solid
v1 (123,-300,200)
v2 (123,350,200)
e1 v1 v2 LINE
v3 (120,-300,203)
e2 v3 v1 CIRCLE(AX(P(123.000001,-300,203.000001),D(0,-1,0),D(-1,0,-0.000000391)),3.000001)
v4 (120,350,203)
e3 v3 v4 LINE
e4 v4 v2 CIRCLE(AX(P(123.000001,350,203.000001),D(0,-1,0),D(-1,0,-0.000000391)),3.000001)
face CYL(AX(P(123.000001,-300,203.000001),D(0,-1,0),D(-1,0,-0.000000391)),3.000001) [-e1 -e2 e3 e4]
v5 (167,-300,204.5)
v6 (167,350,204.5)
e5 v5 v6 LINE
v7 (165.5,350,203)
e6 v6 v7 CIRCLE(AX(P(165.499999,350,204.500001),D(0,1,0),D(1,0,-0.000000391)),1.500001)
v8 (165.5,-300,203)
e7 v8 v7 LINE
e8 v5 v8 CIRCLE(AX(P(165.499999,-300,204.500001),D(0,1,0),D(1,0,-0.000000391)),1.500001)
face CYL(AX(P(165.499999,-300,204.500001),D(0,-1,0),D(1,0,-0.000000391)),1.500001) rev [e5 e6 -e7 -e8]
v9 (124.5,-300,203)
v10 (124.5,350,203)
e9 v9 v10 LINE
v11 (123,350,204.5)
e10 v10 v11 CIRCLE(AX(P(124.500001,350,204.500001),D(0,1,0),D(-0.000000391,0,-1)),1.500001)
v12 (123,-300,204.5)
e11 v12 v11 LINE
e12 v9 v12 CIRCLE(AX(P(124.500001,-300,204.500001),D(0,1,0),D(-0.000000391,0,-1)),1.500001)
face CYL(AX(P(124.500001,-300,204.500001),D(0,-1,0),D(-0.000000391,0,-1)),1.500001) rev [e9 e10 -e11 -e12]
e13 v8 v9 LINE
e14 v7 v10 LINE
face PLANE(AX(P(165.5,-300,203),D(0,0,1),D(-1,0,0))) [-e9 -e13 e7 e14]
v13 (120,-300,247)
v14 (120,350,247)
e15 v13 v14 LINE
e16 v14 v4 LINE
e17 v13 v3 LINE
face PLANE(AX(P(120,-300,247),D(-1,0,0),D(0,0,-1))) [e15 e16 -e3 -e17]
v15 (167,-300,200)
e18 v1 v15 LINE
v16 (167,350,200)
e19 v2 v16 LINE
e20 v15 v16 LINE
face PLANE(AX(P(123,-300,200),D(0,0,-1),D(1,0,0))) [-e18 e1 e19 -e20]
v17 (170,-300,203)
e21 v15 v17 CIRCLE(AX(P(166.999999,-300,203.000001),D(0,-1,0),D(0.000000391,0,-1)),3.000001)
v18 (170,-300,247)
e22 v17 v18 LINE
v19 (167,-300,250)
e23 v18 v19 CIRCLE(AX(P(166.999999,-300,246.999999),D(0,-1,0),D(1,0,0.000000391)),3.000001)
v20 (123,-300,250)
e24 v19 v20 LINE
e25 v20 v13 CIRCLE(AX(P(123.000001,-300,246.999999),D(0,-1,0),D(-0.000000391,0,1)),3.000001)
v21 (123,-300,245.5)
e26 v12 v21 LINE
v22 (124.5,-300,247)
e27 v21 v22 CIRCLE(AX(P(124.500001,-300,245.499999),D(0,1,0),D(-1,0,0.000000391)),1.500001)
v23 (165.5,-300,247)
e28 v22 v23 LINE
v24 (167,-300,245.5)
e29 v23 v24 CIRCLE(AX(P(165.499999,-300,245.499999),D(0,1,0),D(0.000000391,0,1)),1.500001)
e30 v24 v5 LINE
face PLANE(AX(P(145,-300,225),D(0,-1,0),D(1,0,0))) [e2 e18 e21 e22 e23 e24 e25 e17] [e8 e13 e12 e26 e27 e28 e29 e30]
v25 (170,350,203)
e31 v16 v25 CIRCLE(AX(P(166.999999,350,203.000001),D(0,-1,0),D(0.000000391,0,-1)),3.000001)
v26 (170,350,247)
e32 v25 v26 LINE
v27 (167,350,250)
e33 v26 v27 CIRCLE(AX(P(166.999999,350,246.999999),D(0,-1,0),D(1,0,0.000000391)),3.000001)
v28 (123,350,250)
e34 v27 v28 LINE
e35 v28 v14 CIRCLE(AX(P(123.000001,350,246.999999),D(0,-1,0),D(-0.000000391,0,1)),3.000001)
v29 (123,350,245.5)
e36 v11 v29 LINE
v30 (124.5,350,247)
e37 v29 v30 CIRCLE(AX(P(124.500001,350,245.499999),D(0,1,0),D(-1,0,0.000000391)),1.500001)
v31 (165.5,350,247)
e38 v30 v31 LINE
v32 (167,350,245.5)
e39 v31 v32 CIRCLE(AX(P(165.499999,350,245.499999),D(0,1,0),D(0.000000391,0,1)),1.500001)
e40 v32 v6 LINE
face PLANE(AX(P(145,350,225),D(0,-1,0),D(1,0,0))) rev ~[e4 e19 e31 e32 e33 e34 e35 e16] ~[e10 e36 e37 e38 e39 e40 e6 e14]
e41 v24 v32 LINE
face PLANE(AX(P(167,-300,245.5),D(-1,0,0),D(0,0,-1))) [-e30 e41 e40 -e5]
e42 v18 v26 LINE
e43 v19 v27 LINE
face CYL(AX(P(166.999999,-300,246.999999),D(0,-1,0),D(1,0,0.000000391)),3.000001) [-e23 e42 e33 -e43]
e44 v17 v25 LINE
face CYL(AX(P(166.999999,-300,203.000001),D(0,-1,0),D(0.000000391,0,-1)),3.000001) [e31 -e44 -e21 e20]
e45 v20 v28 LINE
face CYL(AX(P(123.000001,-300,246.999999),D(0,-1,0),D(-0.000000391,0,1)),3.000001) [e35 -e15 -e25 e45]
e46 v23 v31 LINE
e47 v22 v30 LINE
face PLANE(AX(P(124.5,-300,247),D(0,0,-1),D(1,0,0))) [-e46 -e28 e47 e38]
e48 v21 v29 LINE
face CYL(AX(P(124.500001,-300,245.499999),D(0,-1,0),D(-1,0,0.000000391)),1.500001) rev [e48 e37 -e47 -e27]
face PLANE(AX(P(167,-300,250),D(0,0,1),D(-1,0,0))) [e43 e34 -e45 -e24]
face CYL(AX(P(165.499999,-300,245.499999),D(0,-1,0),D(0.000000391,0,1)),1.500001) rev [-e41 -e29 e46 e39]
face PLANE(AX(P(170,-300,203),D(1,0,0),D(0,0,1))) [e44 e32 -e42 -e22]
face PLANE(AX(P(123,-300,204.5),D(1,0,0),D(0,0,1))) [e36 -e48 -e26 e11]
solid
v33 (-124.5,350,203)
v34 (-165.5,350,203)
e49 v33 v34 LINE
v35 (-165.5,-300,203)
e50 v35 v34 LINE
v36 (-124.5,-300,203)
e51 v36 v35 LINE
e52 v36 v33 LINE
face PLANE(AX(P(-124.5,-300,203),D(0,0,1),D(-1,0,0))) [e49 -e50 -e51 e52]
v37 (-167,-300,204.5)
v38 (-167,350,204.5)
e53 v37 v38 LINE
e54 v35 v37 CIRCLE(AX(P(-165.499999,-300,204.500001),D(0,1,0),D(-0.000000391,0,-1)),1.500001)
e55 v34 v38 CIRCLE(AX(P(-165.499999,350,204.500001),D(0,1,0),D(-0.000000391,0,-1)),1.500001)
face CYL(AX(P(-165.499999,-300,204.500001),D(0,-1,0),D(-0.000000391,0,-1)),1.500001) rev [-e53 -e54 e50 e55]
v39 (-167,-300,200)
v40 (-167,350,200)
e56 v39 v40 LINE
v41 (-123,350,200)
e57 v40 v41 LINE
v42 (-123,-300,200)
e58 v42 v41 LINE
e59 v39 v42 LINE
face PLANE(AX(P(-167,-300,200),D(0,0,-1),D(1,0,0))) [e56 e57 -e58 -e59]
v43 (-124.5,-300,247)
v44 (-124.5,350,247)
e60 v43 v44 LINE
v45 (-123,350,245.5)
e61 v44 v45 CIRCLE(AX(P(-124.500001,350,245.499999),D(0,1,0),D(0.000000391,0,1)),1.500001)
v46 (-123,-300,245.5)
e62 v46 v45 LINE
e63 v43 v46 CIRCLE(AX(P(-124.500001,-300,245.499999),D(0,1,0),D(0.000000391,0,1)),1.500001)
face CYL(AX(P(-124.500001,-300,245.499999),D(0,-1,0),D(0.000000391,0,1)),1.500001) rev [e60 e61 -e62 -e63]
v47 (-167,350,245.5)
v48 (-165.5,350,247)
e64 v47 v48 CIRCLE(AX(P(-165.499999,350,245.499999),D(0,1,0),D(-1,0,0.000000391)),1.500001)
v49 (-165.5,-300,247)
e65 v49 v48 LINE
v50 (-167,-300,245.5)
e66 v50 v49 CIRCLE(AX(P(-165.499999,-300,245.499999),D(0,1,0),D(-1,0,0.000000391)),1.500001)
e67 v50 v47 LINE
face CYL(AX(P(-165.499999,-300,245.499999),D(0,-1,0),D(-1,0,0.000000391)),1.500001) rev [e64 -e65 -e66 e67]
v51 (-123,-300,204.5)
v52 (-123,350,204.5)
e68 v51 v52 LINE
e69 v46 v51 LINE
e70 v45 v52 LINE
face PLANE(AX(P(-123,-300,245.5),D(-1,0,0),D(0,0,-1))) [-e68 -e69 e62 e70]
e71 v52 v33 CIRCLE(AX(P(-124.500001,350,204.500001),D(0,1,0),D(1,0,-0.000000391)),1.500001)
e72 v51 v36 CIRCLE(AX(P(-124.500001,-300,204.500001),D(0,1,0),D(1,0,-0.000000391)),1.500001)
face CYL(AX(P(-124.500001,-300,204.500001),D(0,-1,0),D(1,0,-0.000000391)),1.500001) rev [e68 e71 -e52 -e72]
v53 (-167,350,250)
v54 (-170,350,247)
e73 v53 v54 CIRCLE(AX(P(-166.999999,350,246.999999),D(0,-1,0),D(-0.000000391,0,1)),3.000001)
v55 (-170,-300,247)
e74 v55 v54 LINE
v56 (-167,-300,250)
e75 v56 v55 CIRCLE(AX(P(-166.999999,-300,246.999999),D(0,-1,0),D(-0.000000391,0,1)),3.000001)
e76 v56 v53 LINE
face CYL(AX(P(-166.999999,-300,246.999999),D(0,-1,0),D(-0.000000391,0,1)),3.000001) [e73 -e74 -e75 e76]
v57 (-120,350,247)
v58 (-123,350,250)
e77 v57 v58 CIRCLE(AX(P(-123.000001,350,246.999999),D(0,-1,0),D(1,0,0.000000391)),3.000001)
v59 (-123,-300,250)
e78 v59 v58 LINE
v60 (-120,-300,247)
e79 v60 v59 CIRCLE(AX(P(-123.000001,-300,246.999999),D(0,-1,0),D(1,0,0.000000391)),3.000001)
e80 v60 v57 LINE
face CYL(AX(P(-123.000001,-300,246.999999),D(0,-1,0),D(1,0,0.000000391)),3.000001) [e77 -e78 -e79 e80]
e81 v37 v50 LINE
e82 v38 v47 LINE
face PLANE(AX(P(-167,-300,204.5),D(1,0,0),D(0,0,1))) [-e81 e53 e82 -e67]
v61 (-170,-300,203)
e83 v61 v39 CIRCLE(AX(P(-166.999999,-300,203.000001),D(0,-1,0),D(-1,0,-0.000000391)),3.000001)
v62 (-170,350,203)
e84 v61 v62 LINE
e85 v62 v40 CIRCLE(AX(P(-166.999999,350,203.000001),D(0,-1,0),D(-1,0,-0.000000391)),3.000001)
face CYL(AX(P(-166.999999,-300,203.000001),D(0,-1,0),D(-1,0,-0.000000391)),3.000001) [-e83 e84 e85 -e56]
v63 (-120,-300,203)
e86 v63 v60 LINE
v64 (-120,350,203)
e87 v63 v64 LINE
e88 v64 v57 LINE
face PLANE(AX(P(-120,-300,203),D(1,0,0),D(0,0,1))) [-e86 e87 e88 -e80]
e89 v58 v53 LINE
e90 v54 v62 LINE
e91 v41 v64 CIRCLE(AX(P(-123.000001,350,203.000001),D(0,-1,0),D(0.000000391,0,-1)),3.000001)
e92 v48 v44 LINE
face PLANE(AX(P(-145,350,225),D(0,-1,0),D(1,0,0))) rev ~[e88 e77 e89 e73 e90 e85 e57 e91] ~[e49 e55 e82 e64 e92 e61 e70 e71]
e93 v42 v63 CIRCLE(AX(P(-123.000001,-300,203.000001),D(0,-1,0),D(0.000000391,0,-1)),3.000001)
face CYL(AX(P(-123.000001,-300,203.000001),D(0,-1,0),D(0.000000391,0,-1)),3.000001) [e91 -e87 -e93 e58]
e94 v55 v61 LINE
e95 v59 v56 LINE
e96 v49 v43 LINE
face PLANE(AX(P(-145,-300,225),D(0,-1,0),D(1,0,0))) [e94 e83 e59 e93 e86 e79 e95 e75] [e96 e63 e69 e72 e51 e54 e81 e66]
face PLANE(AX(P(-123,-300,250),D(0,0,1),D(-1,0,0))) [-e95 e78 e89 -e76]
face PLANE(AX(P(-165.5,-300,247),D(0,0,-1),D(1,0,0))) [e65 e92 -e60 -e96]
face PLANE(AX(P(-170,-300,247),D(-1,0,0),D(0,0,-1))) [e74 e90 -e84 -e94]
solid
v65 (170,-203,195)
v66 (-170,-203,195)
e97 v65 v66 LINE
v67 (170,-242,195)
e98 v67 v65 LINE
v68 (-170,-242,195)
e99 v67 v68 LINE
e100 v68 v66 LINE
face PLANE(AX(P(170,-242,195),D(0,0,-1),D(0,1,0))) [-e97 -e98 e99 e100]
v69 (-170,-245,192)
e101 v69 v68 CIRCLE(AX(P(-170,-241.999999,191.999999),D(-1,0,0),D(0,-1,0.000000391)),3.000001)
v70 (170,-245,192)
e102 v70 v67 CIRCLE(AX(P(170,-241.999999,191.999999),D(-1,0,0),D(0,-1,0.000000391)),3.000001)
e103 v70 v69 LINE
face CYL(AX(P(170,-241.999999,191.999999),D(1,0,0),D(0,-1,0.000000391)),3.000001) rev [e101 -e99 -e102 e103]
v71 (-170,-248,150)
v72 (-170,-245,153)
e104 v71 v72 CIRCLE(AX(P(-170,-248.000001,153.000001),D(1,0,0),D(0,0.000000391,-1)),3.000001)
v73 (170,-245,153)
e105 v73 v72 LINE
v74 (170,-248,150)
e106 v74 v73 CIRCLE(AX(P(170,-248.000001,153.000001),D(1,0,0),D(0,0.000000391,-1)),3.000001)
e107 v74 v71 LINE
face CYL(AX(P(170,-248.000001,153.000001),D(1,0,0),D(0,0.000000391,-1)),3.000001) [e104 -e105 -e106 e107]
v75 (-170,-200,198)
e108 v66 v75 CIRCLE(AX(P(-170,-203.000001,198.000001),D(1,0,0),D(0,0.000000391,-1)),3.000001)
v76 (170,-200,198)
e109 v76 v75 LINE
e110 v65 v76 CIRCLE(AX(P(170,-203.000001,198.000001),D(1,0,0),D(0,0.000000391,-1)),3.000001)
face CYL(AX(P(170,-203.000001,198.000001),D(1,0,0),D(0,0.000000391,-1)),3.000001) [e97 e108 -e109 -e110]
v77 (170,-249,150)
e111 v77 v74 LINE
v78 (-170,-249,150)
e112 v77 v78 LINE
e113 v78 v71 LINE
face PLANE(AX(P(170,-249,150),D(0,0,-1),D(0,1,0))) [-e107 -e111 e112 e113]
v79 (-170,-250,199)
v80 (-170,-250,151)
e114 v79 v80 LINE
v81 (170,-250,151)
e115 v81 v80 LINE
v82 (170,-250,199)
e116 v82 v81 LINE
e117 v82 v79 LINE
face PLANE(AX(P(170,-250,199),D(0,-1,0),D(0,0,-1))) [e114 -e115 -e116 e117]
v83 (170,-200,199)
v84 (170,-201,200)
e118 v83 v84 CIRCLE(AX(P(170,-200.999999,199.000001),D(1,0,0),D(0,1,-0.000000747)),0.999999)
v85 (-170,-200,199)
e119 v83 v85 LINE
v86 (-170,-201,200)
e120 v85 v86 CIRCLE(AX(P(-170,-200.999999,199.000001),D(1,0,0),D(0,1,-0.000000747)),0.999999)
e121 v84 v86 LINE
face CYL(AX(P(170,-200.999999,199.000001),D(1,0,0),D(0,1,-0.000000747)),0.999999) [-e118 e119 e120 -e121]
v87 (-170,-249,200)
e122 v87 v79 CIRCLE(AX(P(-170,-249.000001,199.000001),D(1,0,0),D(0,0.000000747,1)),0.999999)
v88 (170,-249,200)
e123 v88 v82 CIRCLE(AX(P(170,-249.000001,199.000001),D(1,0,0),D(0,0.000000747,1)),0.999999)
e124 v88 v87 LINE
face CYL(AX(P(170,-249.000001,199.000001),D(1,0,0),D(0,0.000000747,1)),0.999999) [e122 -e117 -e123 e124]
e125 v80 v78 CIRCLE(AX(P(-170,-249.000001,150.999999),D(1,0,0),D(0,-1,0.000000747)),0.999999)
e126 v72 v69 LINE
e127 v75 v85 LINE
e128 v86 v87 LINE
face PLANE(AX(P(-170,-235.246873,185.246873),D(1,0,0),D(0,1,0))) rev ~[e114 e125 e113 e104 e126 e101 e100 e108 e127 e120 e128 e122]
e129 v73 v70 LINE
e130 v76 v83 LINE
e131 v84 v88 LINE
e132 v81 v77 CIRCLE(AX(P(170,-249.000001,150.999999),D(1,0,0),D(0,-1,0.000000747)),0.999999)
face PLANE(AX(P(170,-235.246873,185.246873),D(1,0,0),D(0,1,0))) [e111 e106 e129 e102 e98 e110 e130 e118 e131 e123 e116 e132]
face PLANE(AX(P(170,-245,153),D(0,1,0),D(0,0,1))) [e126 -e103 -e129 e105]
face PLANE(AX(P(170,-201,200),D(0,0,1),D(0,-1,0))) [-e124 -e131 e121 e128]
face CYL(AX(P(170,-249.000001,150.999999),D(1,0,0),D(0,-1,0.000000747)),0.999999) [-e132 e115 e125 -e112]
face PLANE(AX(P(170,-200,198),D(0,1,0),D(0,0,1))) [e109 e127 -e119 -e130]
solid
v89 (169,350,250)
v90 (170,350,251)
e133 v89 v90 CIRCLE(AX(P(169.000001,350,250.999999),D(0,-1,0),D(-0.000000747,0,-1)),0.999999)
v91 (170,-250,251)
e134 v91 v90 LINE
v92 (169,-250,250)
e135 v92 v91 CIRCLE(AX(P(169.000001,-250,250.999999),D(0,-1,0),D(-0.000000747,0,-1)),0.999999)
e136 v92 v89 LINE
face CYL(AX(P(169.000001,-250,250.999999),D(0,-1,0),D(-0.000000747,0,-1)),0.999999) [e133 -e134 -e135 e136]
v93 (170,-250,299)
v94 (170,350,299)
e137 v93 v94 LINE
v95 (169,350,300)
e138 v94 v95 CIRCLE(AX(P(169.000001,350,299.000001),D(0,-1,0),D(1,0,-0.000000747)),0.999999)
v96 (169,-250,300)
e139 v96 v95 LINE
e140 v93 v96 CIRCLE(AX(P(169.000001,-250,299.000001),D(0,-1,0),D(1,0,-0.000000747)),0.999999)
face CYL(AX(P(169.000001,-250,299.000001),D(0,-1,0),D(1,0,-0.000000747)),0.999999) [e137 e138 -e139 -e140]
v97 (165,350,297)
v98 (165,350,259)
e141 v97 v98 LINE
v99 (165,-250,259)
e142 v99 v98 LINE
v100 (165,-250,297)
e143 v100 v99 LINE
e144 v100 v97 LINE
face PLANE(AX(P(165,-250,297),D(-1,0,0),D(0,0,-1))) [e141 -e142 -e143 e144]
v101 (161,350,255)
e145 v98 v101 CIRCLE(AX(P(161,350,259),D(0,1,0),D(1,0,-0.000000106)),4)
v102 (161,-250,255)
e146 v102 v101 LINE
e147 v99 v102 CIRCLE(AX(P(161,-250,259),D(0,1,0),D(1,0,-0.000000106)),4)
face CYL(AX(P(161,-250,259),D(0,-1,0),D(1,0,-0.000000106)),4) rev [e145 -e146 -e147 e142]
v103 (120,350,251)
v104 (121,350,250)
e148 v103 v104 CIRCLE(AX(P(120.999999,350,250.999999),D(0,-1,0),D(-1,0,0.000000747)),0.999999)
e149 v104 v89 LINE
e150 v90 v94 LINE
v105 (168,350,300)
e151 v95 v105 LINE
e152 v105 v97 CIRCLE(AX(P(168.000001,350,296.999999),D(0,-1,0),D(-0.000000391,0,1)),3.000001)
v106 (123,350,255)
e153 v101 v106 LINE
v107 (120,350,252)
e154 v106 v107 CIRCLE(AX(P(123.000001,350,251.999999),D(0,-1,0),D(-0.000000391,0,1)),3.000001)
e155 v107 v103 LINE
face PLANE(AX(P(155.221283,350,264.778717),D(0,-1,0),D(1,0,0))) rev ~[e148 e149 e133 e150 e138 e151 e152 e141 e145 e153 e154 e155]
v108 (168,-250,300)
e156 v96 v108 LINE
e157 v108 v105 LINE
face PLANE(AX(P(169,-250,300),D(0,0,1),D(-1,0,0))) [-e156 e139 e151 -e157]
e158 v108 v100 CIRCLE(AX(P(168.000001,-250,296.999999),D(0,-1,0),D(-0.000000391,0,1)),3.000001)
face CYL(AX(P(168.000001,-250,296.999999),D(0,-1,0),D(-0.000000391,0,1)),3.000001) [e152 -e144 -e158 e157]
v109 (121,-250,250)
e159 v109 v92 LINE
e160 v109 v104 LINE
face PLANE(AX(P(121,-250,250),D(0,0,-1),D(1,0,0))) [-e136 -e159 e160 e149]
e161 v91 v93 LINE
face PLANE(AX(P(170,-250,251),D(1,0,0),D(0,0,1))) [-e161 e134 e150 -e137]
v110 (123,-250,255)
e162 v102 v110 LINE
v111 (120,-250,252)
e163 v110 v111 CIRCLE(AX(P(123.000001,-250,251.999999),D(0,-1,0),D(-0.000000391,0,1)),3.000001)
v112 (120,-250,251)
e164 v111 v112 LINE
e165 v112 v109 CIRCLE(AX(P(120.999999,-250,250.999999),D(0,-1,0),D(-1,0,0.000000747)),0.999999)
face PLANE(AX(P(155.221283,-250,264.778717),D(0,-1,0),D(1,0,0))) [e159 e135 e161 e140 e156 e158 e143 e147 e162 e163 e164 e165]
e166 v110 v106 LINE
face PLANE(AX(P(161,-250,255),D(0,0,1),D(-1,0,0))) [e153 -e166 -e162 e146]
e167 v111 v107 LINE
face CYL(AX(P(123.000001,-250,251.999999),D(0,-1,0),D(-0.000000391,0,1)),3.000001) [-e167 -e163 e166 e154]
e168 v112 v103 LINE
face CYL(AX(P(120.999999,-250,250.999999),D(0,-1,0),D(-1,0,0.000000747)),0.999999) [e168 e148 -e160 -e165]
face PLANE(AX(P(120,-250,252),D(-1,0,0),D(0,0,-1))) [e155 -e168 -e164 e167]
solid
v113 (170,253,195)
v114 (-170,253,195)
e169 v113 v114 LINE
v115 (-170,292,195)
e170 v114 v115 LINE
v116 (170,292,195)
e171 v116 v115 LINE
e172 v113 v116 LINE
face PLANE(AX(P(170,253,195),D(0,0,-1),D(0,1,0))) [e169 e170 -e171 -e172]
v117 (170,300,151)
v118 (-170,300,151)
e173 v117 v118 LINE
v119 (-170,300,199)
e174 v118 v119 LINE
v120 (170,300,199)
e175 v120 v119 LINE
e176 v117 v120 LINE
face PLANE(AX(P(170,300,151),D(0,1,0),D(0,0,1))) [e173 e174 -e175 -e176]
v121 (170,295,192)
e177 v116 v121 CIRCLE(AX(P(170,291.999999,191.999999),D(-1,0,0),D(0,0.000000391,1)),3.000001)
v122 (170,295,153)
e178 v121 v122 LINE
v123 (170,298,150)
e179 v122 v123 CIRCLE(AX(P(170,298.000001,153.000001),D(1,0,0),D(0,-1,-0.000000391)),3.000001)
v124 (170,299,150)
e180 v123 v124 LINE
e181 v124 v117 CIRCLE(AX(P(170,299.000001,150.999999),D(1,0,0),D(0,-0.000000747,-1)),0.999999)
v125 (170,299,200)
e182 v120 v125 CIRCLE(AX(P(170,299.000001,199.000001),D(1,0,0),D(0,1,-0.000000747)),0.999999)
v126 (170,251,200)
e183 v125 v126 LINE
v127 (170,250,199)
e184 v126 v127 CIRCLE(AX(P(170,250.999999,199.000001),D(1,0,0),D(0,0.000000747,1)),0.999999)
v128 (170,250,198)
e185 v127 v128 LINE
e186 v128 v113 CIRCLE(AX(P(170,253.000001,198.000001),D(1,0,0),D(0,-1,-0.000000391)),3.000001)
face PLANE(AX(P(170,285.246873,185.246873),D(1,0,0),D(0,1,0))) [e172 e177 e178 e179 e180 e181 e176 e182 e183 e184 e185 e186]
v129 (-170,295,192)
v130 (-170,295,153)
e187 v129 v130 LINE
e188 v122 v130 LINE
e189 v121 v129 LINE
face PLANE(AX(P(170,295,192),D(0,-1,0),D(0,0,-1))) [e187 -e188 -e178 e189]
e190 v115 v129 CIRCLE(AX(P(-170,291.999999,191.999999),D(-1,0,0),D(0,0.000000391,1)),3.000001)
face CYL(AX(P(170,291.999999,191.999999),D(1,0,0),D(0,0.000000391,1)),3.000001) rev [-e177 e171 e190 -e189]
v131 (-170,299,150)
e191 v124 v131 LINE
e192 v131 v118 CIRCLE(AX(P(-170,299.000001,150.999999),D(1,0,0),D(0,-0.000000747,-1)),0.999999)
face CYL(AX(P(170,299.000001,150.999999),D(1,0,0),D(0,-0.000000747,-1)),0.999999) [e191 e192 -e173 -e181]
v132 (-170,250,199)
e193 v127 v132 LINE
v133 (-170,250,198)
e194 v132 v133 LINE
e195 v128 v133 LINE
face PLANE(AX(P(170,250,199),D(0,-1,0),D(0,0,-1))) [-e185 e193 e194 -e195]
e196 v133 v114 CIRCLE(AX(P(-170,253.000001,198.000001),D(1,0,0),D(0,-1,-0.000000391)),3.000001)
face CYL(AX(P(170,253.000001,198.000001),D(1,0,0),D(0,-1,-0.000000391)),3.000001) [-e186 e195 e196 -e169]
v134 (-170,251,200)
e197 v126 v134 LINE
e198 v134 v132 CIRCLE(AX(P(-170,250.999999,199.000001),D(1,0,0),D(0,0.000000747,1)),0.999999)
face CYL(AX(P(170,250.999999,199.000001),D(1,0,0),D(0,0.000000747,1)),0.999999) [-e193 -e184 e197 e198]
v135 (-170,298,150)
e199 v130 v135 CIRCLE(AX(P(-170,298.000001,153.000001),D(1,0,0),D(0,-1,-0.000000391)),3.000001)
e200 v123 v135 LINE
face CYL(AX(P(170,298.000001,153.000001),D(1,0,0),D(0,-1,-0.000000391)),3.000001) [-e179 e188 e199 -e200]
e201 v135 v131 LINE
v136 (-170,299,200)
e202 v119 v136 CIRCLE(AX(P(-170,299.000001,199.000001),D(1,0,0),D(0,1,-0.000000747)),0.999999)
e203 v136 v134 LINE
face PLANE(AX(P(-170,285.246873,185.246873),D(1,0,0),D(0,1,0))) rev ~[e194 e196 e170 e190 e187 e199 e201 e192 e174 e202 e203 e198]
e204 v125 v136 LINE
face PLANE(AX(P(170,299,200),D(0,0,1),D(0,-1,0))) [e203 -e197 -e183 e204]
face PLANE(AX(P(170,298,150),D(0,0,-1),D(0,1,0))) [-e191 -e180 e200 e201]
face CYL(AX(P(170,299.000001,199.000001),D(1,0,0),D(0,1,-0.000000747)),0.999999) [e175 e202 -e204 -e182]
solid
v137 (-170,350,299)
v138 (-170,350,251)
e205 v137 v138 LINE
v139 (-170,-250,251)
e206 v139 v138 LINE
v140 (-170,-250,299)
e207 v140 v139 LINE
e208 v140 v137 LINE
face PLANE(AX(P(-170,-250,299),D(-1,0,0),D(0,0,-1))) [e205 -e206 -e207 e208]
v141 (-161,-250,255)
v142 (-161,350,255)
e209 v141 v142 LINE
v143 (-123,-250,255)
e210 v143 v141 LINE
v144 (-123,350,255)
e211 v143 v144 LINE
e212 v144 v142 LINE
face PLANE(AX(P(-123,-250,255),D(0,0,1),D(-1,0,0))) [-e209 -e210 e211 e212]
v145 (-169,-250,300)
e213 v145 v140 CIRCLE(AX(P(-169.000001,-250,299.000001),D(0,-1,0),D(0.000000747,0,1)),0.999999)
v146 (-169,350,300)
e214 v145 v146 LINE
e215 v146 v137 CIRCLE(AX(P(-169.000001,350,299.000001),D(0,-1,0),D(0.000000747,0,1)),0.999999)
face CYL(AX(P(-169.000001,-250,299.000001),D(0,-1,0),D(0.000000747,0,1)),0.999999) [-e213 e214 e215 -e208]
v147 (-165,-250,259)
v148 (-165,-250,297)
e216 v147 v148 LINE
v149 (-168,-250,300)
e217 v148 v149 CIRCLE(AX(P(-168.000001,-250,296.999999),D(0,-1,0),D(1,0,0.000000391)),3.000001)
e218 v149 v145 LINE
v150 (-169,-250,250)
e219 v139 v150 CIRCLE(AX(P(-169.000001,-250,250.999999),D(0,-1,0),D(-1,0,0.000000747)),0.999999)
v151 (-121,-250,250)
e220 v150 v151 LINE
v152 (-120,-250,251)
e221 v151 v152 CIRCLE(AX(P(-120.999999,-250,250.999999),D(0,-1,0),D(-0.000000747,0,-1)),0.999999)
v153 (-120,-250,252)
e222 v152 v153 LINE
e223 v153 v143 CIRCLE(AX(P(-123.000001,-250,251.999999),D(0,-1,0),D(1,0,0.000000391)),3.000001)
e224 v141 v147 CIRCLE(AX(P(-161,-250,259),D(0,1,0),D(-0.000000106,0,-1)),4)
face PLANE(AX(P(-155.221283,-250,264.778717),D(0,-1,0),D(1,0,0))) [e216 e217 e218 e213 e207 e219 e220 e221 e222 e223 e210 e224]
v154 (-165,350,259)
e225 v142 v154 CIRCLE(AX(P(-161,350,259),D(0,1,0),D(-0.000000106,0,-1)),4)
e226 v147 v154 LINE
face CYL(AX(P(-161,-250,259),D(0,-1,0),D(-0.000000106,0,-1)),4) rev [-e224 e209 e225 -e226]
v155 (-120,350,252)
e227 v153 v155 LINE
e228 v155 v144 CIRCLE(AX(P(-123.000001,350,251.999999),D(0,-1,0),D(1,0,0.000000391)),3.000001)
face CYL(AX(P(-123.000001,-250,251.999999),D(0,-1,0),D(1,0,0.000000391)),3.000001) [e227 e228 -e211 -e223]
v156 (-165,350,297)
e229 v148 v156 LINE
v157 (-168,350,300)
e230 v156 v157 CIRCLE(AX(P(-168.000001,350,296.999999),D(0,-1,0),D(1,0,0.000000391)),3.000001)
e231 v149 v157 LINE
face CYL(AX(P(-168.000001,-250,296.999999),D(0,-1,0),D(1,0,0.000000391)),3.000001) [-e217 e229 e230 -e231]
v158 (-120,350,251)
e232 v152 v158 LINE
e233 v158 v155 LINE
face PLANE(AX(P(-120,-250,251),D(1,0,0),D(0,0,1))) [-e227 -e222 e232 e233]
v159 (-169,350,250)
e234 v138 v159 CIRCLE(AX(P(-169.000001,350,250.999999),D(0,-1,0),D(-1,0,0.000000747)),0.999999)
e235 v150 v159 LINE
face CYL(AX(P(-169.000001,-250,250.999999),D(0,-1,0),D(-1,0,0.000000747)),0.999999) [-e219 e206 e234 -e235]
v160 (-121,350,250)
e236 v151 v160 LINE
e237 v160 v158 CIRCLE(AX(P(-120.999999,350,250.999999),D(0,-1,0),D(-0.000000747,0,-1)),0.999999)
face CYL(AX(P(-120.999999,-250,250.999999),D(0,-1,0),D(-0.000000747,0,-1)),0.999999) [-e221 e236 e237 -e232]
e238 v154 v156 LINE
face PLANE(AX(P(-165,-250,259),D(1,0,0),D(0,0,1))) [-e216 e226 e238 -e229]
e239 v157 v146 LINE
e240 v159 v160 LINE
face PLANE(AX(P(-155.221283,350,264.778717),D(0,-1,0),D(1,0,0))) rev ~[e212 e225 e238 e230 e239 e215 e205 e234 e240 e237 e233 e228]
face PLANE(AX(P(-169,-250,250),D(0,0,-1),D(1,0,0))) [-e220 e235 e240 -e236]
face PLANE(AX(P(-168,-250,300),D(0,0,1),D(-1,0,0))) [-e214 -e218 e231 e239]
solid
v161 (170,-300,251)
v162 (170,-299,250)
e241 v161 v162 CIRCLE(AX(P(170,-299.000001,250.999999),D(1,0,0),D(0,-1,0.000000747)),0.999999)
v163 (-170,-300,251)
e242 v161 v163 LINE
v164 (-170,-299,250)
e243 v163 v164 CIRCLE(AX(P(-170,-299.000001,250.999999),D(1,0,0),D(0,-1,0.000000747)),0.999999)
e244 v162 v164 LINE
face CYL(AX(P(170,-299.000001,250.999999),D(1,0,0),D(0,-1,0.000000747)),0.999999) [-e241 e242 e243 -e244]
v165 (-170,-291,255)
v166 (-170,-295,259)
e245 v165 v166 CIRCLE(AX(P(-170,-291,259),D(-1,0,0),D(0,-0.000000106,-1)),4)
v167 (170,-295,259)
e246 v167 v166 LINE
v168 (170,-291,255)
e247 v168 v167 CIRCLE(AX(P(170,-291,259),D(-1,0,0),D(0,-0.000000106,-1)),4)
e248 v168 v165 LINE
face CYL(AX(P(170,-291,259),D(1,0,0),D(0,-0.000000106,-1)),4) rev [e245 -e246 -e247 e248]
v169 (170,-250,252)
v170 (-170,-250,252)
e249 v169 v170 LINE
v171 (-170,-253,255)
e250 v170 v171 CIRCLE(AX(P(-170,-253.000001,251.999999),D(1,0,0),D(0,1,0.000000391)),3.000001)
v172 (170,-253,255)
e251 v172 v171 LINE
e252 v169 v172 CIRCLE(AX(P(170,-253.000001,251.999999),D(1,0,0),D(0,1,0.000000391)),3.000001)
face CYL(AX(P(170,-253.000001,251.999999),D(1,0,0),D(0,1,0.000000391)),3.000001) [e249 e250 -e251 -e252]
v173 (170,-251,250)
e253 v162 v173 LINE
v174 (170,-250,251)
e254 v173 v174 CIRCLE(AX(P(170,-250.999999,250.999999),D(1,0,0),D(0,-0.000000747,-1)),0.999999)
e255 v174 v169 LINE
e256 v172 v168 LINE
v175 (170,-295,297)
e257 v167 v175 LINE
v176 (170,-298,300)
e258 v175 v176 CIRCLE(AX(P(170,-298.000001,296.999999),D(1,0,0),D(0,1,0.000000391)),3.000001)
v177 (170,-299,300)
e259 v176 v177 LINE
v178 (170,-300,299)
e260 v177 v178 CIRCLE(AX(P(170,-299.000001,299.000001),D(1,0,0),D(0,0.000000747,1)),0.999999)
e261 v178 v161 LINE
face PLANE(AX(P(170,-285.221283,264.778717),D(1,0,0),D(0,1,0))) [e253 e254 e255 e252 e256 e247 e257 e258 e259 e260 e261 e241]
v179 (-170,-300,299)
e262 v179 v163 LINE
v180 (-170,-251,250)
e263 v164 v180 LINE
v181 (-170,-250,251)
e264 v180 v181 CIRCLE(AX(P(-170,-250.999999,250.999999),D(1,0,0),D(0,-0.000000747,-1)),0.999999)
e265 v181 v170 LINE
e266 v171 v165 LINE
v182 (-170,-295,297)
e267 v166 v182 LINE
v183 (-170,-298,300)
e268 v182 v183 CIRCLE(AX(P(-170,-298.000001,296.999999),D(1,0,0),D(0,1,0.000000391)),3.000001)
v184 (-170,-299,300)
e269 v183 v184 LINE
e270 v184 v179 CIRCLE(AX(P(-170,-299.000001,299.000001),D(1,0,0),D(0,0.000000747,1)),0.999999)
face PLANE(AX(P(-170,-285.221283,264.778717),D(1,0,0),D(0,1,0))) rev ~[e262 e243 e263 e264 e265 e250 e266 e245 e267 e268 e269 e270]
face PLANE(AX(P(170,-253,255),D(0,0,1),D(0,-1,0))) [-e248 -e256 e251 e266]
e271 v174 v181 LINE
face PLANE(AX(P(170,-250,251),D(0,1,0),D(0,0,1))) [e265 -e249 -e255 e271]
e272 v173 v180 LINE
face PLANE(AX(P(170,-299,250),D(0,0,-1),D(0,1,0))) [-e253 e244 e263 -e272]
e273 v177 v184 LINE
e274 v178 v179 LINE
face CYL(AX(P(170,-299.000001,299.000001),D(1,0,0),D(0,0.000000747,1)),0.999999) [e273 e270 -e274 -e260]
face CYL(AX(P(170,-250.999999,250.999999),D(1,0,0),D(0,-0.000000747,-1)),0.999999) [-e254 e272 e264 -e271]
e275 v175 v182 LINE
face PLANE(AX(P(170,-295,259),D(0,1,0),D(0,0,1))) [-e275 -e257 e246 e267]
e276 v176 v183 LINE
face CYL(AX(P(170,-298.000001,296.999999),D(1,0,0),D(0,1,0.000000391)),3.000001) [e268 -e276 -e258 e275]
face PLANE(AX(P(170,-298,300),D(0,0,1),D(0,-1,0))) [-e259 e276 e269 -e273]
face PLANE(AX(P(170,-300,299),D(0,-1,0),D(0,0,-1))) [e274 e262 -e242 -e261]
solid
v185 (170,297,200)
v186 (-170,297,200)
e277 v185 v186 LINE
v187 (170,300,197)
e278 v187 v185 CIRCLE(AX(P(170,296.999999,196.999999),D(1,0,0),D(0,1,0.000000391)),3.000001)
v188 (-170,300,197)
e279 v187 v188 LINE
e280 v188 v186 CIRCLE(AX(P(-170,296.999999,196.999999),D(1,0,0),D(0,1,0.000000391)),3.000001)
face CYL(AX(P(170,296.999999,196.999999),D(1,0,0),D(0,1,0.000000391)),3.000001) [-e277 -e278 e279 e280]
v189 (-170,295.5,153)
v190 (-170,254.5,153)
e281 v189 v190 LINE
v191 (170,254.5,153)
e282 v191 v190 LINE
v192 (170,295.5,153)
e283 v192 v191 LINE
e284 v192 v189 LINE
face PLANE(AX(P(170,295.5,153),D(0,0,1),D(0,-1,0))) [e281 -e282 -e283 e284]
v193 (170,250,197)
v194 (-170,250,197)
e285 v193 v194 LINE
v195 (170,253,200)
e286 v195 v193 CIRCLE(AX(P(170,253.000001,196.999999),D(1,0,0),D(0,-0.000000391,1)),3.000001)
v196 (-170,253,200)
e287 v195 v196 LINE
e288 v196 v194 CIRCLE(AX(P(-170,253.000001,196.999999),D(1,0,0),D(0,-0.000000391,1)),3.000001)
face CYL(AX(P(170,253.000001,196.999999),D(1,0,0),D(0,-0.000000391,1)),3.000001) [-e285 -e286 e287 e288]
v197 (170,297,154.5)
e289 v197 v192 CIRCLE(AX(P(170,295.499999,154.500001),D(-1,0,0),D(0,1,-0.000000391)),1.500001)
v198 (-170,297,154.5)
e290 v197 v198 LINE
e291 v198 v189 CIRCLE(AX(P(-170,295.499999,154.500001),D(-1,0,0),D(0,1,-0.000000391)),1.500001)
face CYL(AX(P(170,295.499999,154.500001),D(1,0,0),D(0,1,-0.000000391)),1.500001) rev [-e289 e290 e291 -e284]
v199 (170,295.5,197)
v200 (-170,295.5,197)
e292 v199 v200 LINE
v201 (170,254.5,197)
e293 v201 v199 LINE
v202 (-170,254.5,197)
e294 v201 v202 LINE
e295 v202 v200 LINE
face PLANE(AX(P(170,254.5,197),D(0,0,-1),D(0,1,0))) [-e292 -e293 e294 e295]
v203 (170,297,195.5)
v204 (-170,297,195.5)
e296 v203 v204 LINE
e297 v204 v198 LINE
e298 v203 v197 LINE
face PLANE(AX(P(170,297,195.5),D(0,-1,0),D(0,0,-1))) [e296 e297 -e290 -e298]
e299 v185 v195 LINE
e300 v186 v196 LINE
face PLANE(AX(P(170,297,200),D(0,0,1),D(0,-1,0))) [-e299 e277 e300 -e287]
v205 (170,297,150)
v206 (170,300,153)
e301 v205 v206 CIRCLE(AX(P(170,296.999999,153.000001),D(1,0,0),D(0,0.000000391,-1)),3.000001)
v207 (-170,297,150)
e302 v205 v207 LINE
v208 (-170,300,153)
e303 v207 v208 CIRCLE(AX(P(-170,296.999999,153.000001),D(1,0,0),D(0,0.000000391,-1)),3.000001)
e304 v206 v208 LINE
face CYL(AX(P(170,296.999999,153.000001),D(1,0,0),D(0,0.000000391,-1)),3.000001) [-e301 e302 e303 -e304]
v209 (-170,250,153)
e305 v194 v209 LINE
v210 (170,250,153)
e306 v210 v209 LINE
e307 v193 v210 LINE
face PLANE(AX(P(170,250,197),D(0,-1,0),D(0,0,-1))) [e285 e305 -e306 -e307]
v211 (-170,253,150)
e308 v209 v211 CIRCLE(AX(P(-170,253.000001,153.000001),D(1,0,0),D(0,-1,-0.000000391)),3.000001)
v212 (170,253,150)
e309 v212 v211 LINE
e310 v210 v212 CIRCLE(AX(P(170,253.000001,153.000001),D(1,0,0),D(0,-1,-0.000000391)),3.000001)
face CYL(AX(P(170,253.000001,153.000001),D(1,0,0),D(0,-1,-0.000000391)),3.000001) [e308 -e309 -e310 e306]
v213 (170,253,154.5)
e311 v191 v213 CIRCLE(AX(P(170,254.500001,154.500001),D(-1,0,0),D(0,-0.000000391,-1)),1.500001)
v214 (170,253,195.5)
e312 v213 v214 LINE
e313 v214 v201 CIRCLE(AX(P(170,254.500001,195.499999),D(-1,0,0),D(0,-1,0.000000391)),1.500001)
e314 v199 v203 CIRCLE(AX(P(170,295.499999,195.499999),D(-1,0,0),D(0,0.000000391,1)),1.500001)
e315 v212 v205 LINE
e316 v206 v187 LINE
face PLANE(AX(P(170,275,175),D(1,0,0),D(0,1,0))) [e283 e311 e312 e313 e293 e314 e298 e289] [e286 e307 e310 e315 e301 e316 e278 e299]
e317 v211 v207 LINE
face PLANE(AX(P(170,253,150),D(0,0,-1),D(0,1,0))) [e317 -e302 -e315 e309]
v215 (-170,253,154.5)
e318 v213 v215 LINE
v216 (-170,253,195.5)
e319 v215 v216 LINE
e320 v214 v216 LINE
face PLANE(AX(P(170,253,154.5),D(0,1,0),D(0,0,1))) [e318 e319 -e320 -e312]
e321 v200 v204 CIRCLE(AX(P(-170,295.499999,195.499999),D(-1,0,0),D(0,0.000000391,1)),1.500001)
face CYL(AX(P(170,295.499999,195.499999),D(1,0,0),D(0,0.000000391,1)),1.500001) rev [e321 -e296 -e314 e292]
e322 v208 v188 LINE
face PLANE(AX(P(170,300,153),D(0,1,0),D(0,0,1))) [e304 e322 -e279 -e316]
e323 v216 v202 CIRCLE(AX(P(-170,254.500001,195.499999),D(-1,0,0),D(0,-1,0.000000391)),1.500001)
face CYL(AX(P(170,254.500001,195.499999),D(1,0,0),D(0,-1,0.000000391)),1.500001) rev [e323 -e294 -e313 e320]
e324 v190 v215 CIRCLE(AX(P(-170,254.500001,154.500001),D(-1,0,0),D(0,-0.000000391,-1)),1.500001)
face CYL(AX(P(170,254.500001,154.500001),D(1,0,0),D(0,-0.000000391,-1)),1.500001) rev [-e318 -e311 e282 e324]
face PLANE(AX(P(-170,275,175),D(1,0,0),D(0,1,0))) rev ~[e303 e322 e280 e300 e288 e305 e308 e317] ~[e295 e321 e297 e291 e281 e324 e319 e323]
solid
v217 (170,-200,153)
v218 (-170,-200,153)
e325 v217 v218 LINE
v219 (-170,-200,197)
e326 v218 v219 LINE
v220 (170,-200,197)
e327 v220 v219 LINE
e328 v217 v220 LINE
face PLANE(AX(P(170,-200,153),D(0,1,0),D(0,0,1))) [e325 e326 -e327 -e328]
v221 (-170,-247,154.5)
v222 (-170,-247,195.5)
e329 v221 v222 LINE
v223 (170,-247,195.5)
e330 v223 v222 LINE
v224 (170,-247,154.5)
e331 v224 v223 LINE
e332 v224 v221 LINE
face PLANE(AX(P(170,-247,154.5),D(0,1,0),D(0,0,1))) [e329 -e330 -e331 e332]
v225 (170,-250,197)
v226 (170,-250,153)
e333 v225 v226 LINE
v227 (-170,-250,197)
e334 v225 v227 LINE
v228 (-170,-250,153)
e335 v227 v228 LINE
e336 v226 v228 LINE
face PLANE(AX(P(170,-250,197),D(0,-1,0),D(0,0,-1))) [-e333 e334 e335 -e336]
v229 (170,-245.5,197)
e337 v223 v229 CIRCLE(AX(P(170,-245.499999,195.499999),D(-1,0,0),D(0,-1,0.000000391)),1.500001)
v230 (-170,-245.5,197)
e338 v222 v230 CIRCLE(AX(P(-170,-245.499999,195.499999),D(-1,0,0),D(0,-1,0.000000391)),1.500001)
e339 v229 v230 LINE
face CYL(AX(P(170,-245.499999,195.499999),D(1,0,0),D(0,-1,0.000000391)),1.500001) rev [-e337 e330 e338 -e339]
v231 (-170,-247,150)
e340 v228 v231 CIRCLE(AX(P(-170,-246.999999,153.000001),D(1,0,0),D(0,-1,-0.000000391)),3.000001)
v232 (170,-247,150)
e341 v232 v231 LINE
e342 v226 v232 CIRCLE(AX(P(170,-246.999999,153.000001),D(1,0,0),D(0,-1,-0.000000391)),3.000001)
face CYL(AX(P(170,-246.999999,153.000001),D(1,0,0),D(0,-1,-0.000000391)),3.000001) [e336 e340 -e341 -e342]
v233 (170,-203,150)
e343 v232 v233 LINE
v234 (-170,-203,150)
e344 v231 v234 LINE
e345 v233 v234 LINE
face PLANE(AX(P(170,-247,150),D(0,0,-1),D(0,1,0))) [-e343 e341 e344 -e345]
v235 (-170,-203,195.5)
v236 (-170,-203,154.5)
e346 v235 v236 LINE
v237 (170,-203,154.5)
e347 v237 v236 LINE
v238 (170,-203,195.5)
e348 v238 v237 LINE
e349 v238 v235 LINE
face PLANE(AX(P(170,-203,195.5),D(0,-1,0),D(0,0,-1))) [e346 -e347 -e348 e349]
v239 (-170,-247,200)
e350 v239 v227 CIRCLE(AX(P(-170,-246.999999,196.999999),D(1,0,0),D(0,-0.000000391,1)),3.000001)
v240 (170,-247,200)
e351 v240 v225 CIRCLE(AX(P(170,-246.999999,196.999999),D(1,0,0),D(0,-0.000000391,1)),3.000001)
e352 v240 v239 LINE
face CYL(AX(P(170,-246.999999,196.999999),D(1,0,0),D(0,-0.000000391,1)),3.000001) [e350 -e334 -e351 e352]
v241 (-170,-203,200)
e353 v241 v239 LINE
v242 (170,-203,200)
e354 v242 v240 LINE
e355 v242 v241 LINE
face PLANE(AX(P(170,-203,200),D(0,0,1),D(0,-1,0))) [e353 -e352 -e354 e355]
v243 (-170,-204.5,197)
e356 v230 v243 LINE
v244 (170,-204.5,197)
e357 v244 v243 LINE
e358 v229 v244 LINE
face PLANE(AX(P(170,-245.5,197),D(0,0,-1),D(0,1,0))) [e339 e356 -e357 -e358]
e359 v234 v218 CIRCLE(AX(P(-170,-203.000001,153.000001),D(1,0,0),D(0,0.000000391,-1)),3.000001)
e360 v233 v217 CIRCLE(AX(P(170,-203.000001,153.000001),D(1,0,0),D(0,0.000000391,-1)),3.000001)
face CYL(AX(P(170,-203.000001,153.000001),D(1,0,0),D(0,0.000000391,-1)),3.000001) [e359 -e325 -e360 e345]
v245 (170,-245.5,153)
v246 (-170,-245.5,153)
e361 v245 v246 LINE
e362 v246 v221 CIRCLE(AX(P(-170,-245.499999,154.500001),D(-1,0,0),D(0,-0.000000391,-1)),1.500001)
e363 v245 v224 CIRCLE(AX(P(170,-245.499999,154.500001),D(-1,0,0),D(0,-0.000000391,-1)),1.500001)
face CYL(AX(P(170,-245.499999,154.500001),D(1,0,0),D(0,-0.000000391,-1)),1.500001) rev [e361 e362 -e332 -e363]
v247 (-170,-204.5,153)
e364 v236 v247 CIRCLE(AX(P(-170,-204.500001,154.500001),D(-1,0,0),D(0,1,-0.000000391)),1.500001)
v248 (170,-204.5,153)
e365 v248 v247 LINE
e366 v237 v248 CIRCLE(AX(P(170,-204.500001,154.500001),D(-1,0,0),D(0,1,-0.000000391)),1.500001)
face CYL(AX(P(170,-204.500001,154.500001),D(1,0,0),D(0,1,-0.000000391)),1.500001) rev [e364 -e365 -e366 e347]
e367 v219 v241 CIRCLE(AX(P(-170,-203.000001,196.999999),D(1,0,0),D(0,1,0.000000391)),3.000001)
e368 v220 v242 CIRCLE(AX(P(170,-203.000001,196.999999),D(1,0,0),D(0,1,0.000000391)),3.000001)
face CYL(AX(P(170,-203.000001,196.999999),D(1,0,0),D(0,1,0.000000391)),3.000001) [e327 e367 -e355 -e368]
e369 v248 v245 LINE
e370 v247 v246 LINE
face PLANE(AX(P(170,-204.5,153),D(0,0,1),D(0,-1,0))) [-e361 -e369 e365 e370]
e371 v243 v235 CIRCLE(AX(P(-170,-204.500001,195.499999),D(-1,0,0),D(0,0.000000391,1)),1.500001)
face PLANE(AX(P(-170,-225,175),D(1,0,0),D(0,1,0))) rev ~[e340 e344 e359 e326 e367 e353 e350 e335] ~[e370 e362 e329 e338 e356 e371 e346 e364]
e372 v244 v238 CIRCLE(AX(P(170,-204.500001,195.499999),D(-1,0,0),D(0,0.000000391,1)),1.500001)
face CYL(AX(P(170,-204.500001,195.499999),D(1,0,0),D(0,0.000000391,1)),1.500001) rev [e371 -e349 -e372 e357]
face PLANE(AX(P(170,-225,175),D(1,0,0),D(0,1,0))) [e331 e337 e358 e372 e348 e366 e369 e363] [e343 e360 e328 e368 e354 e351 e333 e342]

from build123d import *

# Parameters (mm, degrees)
F2_DEPTH  = 650
F5_DEPTH  = 600
F8_DEPTH  = 340
F10_DEPTH = 340
F12_DEPTH = 340


with BuildPart() as f2:
    # F1 (on offset) → F2 (new body)
    with BuildSketch(Plane.XZ.offset(300)):
        with BuildLine():
            Line((-123, 250), (-167, 250))
            ThreePointArc((-167, 250), (-169.12132, 249.12132), (-170, 247))
            Line((-170, 247), (-170, 203))
            ThreePointArc((-170, 203), (-169.12132, 200.87868), (-167, 200))
            Line((-167, 200), (-123, 200))
            ThreePointArc((-123, 200), (-120.87868, 200.87868), (-120, 203))
            Line((-120, 203), (-120, 247))
            ThreePointArc((-120, 247), (-120.87868, 249.12132), (-123, 250))
        make_face()
        with BuildLine():
            Line((-124.5, 203), (-165.5, 203))
            ThreePointArc((-165.5, 203), (-166.56066, 203.43934), (-167, 204.5))
            Line((-167, 204.5), (-167, 245.5))
            ThreePointArc((-167, 245.5), (-166.56066, 246.56066), (-165.5, 247))
            Line((-165.5, 247), (-124.5, 247))
            ThreePointArc((-124.5, 247), (-123.43934, 246.56066), (-123, 245.5))
            Line((-123, 245.5), (-123, 204.5))
            ThreePointArc((-123, 204.5), (-123.43934, 203.43934), (-124.5, 203))
        make_face(mode=Mode.SUBTRACT)
        with BuildLine():
            Line((167, 250), (123, 250))
            ThreePointArc((123, 250), (120.87868, 249.12132), (120, 247))
            Line((120, 247), (120, 203))
            ThreePointArc((120, 203), (120.87868, 200.87868), (123, 200))
            Line((123, 200), (167, 200))
            ThreePointArc((167, 200), (169.12132, 200.87868), (170, 203))
            Line((170, 203), (170, 247))
            ThreePointArc((170, 247), (169.12132, 249.12132), (167, 250))
        make_face()
        with BuildLine():
            Line((165.5, 203), (124.5, 203))
            ThreePointArc((124.5, 203), (123.43934, 203.43934), (123, 204.5))
            Line((123, 204.5), (123, 245.5))
            ThreePointArc((123, 245.5), (123.43934, 246.56066), (124.5, 247))
            Line((124.5, 247), (165.5, 247))
            ThreePointArc((165.5, 247), (166.56066, 246.56066), (167, 245.5))
            Line((167, 245.5), (167, 204.5))
            ThreePointArc((167, 204.5), (166.56066, 203.43934), (165.5, 203))
        make_face(mode=Mode.SUBTRACT)
    extrude(amount=-F2_DEPTH)


with BuildPart() as f5:
    # F4 (on offset) → F5 (new body)
    with BuildSketch(Plane.XZ.offset(250)):
        with BuildLine():
            Line((-168, 300), (-169, 300))
            ThreePointArc((-169, 300), (-169.707107, 299.707107), (-170, 299))
            Line((-170, 299), (-170, 251))
            ThreePointArc((-170, 251), (-169.707107, 250.292893), (-169, 250))
            Line((-169, 250), (-121, 250))
            ThreePointArc((-121, 250), (-120.292893, 250.292893), (-120, 251))
            Line((-120, 251), (-120, 252))
            ThreePointArc((-120, 252), (-120.87868, 254.12132), (-123, 255))
            Line((-123, 255), (-161, 255))
            ThreePointArc((-161, 255), (-163.828427, 256.171573), (-165, 259))
            Line((-165, 259), (-165, 297))
            ThreePointArc((-165, 297), (-165.87868, 299.12132), (-168, 300))
        make_face()
        with BuildLine():
            ThreePointArc((169, 250), (169.707107, 250.292893), (170, 251))
            Line((170, 251), (170, 299))
            ThreePointArc((170, 299), (169.707107, 299.707107), (169, 300))
            Line((169, 300), (168, 300))
            ThreePointArc((168, 300), (165.87868, 299.12132), (165, 297))
            Line((165, 297), (165, 259))
            ThreePointArc((165, 259), (163.828427, 256.171573), (161, 255))
            Line((161, 255), (123, 255))
            ThreePointArc((123, 255), (120.87868, 254.12132), (120, 252))
            Line((120, 252), (120, 251))
            ThreePointArc((120, 251), (120.292893, 250.292893), (121, 250))
            Line((121, 250), (169, 250))
        make_face()
    extrude(amount=-F5_DEPTH)


with BuildPart() as f8:
    # F7 (on offset) → F8 (new body)
    with BuildSketch(Plane.YZ.offset(170)):
        with BuildLine():
            ThreePointArc((-299, 300), (-299.707107, 299.707107), (-300, 299))
            Line((-300, 299), (-300, 251))
            ThreePointArc((-300, 251), (-299.707107, 250.292893), (-299, 250))
            Line((-299, 250), (-251, 250))
            ThreePointArc((-251, 250), (-250.292893, 250.292893), (-250, 251))
            Line((-250, 251), (-250, 252))
            ThreePointArc((-250, 252), (-250.87868, 254.12132), (-253, 255))
            Line((-253, 255), (-291, 255))
            ThreePointArc((-291, 255), (-293.828427, 256.171573), (-295, 259))
            Line((-295, 259), (-295, 297))
            ThreePointArc((-295, 297), (-295.87868, 299.12132), (-298, 300))
            Line((-298, 300), (-299, 300))
        make_face()
    extrude(amount=-F8_DEPTH)


with BuildPart() as f10:
    # F9 (on offset) → F10 (new body)
    with BuildSketch(Plane.YZ.offset(170)):
        with BuildLine():
            Line((-203, 200), (-247, 200))
            ThreePointArc((-247, 200), (-249.12132, 199.12132), (-250, 197))
            Line((-250, 197), (-250, 153))
            ThreePointArc((-250, 153), (-249.12132, 150.87868), (-247, 150))
            Line((-247, 150), (-203, 150))
            ThreePointArc((-203, 150), (-200.87868, 150.87868), (-200, 153))
            Line((-200, 153), (-200, 197))
            ThreePointArc((-200, 197), (-200.87868, 199.12132), (-203, 200))
        make_face()
        with BuildLine():
            ThreePointArc((-204.5, 197), (-203.43934, 196.56066), (-203, 195.5))
            Line((-203, 195.5), (-203, 154.5))
            ThreePointArc((-203, 154.5), (-203.43934, 153.43934), (-204.5, 153))
            Line((-204.5, 153), (-245.5, 153))
            ThreePointArc((-245.5, 153), (-246.56066, 153.43934), (-247, 154.5))
            Line((-247, 154.5), (-247, 195.5))
            ThreePointArc((-247, 195.5), (-246.56066, 196.56066), (-245.5, 197))
            Line((-245.5, 197), (-204.5, 197))
        make_face(mode=Mode.SUBTRACT)
        with BuildLine():
            Line((297, 200), (253, 200))
            ThreePointArc((253, 200), (250.87868, 199.12132), (250, 197))
            Line((250, 197), (250, 153))
            ThreePointArc((250, 153), (250.87868, 150.87868), (253, 150))
            Line((253, 150), (297, 150))
            ThreePointArc((297, 150), (299.12132, 150.87868), (300, 153))
            Line((300, 153), (300, 197))
            ThreePointArc((300, 197), (299.12132, 199.12132), (297, 200))
        make_face()
        with BuildLine():
            ThreePointArc((253, 195.5), (253.43934, 196.56066), (254.5, 197))
            Line((254.5, 197), (295.5, 197))
            ThreePointArc((295.5, 197), (296.56066, 196.56066), (297, 195.5))
            Line((297, 195.5), (297, 154.5))
            ThreePointArc((297, 154.5), (296.56066, 153.43934), (295.5, 153))
            Line((295.5, 153), (254.5, 153))
            ThreePointArc((254.5, 153), (253.43934, 153.43934), (253, 154.5))
            Line((253, 154.5), (253, 195.5))
        make_face(mode=Mode.SUBTRACT)
    extrude(amount=-F10_DEPTH)


with BuildPart() as f12:
    # F11 (on offset) → F12 (new body)
    with BuildSketch(Plane.YZ.offset(170)):
        with BuildLine():
            Line((-200, 198), (-200, 199))
            ThreePointArc((-200, 199), (-200.292893, 199.707107), (-201, 200))
            Line((-201, 200), (-249, 200))
            ThreePointArc((-249, 200), (-249.707107, 199.707107), (-250, 199))
            Line((-250, 199), (-250, 151))
            ThreePointArc((-250, 151), (-249.707107, 150.292893), (-249, 150))
            Line((-249, 150), (-248, 150))
            ThreePointArc((-248, 150), (-245.87868, 150.87868), (-245, 153))
            Line((-245, 153), (-245, 192))
            ThreePointArc((-245, 192), (-244.12132, 194.12132), (-242, 195))
            Line((-242, 195), (-203, 195))
            ThreePointArc((-203, 195), (-200.87868, 195.87868), (-200, 198))
        make_face()
        with BuildLine():
            ThreePointArc((251, 200), (250.292893, 199.707107), (250, 199))
            Line((250, 199), (250, 198))
            ThreePointArc((250, 198), (250.87868, 195.87868), (253, 195))
            Line((253, 195), (292, 195))
            ThreePointArc((292, 195), (294.12132, 194.12132), (295, 192))
            Line((295, 192), (295, 153))
            ThreePointArc((295, 153), (295.87868, 150.87868), (298, 150))
            Line((298, 150), (299, 150))
            ThreePointArc((299, 150), (299.707107, 150.292893), (300, 151))
            Line((300, 151), (300, 199))
            ThreePointArc((300, 199), (299.707107, 199.707107), (299, 200))
            Line((299, 200), (251, 200))
        make_face()
    extrude(amount=-F12_DEPTH)


solid = Compound([f2.part, f5.part, f8.part, f10.part, f12.part])
